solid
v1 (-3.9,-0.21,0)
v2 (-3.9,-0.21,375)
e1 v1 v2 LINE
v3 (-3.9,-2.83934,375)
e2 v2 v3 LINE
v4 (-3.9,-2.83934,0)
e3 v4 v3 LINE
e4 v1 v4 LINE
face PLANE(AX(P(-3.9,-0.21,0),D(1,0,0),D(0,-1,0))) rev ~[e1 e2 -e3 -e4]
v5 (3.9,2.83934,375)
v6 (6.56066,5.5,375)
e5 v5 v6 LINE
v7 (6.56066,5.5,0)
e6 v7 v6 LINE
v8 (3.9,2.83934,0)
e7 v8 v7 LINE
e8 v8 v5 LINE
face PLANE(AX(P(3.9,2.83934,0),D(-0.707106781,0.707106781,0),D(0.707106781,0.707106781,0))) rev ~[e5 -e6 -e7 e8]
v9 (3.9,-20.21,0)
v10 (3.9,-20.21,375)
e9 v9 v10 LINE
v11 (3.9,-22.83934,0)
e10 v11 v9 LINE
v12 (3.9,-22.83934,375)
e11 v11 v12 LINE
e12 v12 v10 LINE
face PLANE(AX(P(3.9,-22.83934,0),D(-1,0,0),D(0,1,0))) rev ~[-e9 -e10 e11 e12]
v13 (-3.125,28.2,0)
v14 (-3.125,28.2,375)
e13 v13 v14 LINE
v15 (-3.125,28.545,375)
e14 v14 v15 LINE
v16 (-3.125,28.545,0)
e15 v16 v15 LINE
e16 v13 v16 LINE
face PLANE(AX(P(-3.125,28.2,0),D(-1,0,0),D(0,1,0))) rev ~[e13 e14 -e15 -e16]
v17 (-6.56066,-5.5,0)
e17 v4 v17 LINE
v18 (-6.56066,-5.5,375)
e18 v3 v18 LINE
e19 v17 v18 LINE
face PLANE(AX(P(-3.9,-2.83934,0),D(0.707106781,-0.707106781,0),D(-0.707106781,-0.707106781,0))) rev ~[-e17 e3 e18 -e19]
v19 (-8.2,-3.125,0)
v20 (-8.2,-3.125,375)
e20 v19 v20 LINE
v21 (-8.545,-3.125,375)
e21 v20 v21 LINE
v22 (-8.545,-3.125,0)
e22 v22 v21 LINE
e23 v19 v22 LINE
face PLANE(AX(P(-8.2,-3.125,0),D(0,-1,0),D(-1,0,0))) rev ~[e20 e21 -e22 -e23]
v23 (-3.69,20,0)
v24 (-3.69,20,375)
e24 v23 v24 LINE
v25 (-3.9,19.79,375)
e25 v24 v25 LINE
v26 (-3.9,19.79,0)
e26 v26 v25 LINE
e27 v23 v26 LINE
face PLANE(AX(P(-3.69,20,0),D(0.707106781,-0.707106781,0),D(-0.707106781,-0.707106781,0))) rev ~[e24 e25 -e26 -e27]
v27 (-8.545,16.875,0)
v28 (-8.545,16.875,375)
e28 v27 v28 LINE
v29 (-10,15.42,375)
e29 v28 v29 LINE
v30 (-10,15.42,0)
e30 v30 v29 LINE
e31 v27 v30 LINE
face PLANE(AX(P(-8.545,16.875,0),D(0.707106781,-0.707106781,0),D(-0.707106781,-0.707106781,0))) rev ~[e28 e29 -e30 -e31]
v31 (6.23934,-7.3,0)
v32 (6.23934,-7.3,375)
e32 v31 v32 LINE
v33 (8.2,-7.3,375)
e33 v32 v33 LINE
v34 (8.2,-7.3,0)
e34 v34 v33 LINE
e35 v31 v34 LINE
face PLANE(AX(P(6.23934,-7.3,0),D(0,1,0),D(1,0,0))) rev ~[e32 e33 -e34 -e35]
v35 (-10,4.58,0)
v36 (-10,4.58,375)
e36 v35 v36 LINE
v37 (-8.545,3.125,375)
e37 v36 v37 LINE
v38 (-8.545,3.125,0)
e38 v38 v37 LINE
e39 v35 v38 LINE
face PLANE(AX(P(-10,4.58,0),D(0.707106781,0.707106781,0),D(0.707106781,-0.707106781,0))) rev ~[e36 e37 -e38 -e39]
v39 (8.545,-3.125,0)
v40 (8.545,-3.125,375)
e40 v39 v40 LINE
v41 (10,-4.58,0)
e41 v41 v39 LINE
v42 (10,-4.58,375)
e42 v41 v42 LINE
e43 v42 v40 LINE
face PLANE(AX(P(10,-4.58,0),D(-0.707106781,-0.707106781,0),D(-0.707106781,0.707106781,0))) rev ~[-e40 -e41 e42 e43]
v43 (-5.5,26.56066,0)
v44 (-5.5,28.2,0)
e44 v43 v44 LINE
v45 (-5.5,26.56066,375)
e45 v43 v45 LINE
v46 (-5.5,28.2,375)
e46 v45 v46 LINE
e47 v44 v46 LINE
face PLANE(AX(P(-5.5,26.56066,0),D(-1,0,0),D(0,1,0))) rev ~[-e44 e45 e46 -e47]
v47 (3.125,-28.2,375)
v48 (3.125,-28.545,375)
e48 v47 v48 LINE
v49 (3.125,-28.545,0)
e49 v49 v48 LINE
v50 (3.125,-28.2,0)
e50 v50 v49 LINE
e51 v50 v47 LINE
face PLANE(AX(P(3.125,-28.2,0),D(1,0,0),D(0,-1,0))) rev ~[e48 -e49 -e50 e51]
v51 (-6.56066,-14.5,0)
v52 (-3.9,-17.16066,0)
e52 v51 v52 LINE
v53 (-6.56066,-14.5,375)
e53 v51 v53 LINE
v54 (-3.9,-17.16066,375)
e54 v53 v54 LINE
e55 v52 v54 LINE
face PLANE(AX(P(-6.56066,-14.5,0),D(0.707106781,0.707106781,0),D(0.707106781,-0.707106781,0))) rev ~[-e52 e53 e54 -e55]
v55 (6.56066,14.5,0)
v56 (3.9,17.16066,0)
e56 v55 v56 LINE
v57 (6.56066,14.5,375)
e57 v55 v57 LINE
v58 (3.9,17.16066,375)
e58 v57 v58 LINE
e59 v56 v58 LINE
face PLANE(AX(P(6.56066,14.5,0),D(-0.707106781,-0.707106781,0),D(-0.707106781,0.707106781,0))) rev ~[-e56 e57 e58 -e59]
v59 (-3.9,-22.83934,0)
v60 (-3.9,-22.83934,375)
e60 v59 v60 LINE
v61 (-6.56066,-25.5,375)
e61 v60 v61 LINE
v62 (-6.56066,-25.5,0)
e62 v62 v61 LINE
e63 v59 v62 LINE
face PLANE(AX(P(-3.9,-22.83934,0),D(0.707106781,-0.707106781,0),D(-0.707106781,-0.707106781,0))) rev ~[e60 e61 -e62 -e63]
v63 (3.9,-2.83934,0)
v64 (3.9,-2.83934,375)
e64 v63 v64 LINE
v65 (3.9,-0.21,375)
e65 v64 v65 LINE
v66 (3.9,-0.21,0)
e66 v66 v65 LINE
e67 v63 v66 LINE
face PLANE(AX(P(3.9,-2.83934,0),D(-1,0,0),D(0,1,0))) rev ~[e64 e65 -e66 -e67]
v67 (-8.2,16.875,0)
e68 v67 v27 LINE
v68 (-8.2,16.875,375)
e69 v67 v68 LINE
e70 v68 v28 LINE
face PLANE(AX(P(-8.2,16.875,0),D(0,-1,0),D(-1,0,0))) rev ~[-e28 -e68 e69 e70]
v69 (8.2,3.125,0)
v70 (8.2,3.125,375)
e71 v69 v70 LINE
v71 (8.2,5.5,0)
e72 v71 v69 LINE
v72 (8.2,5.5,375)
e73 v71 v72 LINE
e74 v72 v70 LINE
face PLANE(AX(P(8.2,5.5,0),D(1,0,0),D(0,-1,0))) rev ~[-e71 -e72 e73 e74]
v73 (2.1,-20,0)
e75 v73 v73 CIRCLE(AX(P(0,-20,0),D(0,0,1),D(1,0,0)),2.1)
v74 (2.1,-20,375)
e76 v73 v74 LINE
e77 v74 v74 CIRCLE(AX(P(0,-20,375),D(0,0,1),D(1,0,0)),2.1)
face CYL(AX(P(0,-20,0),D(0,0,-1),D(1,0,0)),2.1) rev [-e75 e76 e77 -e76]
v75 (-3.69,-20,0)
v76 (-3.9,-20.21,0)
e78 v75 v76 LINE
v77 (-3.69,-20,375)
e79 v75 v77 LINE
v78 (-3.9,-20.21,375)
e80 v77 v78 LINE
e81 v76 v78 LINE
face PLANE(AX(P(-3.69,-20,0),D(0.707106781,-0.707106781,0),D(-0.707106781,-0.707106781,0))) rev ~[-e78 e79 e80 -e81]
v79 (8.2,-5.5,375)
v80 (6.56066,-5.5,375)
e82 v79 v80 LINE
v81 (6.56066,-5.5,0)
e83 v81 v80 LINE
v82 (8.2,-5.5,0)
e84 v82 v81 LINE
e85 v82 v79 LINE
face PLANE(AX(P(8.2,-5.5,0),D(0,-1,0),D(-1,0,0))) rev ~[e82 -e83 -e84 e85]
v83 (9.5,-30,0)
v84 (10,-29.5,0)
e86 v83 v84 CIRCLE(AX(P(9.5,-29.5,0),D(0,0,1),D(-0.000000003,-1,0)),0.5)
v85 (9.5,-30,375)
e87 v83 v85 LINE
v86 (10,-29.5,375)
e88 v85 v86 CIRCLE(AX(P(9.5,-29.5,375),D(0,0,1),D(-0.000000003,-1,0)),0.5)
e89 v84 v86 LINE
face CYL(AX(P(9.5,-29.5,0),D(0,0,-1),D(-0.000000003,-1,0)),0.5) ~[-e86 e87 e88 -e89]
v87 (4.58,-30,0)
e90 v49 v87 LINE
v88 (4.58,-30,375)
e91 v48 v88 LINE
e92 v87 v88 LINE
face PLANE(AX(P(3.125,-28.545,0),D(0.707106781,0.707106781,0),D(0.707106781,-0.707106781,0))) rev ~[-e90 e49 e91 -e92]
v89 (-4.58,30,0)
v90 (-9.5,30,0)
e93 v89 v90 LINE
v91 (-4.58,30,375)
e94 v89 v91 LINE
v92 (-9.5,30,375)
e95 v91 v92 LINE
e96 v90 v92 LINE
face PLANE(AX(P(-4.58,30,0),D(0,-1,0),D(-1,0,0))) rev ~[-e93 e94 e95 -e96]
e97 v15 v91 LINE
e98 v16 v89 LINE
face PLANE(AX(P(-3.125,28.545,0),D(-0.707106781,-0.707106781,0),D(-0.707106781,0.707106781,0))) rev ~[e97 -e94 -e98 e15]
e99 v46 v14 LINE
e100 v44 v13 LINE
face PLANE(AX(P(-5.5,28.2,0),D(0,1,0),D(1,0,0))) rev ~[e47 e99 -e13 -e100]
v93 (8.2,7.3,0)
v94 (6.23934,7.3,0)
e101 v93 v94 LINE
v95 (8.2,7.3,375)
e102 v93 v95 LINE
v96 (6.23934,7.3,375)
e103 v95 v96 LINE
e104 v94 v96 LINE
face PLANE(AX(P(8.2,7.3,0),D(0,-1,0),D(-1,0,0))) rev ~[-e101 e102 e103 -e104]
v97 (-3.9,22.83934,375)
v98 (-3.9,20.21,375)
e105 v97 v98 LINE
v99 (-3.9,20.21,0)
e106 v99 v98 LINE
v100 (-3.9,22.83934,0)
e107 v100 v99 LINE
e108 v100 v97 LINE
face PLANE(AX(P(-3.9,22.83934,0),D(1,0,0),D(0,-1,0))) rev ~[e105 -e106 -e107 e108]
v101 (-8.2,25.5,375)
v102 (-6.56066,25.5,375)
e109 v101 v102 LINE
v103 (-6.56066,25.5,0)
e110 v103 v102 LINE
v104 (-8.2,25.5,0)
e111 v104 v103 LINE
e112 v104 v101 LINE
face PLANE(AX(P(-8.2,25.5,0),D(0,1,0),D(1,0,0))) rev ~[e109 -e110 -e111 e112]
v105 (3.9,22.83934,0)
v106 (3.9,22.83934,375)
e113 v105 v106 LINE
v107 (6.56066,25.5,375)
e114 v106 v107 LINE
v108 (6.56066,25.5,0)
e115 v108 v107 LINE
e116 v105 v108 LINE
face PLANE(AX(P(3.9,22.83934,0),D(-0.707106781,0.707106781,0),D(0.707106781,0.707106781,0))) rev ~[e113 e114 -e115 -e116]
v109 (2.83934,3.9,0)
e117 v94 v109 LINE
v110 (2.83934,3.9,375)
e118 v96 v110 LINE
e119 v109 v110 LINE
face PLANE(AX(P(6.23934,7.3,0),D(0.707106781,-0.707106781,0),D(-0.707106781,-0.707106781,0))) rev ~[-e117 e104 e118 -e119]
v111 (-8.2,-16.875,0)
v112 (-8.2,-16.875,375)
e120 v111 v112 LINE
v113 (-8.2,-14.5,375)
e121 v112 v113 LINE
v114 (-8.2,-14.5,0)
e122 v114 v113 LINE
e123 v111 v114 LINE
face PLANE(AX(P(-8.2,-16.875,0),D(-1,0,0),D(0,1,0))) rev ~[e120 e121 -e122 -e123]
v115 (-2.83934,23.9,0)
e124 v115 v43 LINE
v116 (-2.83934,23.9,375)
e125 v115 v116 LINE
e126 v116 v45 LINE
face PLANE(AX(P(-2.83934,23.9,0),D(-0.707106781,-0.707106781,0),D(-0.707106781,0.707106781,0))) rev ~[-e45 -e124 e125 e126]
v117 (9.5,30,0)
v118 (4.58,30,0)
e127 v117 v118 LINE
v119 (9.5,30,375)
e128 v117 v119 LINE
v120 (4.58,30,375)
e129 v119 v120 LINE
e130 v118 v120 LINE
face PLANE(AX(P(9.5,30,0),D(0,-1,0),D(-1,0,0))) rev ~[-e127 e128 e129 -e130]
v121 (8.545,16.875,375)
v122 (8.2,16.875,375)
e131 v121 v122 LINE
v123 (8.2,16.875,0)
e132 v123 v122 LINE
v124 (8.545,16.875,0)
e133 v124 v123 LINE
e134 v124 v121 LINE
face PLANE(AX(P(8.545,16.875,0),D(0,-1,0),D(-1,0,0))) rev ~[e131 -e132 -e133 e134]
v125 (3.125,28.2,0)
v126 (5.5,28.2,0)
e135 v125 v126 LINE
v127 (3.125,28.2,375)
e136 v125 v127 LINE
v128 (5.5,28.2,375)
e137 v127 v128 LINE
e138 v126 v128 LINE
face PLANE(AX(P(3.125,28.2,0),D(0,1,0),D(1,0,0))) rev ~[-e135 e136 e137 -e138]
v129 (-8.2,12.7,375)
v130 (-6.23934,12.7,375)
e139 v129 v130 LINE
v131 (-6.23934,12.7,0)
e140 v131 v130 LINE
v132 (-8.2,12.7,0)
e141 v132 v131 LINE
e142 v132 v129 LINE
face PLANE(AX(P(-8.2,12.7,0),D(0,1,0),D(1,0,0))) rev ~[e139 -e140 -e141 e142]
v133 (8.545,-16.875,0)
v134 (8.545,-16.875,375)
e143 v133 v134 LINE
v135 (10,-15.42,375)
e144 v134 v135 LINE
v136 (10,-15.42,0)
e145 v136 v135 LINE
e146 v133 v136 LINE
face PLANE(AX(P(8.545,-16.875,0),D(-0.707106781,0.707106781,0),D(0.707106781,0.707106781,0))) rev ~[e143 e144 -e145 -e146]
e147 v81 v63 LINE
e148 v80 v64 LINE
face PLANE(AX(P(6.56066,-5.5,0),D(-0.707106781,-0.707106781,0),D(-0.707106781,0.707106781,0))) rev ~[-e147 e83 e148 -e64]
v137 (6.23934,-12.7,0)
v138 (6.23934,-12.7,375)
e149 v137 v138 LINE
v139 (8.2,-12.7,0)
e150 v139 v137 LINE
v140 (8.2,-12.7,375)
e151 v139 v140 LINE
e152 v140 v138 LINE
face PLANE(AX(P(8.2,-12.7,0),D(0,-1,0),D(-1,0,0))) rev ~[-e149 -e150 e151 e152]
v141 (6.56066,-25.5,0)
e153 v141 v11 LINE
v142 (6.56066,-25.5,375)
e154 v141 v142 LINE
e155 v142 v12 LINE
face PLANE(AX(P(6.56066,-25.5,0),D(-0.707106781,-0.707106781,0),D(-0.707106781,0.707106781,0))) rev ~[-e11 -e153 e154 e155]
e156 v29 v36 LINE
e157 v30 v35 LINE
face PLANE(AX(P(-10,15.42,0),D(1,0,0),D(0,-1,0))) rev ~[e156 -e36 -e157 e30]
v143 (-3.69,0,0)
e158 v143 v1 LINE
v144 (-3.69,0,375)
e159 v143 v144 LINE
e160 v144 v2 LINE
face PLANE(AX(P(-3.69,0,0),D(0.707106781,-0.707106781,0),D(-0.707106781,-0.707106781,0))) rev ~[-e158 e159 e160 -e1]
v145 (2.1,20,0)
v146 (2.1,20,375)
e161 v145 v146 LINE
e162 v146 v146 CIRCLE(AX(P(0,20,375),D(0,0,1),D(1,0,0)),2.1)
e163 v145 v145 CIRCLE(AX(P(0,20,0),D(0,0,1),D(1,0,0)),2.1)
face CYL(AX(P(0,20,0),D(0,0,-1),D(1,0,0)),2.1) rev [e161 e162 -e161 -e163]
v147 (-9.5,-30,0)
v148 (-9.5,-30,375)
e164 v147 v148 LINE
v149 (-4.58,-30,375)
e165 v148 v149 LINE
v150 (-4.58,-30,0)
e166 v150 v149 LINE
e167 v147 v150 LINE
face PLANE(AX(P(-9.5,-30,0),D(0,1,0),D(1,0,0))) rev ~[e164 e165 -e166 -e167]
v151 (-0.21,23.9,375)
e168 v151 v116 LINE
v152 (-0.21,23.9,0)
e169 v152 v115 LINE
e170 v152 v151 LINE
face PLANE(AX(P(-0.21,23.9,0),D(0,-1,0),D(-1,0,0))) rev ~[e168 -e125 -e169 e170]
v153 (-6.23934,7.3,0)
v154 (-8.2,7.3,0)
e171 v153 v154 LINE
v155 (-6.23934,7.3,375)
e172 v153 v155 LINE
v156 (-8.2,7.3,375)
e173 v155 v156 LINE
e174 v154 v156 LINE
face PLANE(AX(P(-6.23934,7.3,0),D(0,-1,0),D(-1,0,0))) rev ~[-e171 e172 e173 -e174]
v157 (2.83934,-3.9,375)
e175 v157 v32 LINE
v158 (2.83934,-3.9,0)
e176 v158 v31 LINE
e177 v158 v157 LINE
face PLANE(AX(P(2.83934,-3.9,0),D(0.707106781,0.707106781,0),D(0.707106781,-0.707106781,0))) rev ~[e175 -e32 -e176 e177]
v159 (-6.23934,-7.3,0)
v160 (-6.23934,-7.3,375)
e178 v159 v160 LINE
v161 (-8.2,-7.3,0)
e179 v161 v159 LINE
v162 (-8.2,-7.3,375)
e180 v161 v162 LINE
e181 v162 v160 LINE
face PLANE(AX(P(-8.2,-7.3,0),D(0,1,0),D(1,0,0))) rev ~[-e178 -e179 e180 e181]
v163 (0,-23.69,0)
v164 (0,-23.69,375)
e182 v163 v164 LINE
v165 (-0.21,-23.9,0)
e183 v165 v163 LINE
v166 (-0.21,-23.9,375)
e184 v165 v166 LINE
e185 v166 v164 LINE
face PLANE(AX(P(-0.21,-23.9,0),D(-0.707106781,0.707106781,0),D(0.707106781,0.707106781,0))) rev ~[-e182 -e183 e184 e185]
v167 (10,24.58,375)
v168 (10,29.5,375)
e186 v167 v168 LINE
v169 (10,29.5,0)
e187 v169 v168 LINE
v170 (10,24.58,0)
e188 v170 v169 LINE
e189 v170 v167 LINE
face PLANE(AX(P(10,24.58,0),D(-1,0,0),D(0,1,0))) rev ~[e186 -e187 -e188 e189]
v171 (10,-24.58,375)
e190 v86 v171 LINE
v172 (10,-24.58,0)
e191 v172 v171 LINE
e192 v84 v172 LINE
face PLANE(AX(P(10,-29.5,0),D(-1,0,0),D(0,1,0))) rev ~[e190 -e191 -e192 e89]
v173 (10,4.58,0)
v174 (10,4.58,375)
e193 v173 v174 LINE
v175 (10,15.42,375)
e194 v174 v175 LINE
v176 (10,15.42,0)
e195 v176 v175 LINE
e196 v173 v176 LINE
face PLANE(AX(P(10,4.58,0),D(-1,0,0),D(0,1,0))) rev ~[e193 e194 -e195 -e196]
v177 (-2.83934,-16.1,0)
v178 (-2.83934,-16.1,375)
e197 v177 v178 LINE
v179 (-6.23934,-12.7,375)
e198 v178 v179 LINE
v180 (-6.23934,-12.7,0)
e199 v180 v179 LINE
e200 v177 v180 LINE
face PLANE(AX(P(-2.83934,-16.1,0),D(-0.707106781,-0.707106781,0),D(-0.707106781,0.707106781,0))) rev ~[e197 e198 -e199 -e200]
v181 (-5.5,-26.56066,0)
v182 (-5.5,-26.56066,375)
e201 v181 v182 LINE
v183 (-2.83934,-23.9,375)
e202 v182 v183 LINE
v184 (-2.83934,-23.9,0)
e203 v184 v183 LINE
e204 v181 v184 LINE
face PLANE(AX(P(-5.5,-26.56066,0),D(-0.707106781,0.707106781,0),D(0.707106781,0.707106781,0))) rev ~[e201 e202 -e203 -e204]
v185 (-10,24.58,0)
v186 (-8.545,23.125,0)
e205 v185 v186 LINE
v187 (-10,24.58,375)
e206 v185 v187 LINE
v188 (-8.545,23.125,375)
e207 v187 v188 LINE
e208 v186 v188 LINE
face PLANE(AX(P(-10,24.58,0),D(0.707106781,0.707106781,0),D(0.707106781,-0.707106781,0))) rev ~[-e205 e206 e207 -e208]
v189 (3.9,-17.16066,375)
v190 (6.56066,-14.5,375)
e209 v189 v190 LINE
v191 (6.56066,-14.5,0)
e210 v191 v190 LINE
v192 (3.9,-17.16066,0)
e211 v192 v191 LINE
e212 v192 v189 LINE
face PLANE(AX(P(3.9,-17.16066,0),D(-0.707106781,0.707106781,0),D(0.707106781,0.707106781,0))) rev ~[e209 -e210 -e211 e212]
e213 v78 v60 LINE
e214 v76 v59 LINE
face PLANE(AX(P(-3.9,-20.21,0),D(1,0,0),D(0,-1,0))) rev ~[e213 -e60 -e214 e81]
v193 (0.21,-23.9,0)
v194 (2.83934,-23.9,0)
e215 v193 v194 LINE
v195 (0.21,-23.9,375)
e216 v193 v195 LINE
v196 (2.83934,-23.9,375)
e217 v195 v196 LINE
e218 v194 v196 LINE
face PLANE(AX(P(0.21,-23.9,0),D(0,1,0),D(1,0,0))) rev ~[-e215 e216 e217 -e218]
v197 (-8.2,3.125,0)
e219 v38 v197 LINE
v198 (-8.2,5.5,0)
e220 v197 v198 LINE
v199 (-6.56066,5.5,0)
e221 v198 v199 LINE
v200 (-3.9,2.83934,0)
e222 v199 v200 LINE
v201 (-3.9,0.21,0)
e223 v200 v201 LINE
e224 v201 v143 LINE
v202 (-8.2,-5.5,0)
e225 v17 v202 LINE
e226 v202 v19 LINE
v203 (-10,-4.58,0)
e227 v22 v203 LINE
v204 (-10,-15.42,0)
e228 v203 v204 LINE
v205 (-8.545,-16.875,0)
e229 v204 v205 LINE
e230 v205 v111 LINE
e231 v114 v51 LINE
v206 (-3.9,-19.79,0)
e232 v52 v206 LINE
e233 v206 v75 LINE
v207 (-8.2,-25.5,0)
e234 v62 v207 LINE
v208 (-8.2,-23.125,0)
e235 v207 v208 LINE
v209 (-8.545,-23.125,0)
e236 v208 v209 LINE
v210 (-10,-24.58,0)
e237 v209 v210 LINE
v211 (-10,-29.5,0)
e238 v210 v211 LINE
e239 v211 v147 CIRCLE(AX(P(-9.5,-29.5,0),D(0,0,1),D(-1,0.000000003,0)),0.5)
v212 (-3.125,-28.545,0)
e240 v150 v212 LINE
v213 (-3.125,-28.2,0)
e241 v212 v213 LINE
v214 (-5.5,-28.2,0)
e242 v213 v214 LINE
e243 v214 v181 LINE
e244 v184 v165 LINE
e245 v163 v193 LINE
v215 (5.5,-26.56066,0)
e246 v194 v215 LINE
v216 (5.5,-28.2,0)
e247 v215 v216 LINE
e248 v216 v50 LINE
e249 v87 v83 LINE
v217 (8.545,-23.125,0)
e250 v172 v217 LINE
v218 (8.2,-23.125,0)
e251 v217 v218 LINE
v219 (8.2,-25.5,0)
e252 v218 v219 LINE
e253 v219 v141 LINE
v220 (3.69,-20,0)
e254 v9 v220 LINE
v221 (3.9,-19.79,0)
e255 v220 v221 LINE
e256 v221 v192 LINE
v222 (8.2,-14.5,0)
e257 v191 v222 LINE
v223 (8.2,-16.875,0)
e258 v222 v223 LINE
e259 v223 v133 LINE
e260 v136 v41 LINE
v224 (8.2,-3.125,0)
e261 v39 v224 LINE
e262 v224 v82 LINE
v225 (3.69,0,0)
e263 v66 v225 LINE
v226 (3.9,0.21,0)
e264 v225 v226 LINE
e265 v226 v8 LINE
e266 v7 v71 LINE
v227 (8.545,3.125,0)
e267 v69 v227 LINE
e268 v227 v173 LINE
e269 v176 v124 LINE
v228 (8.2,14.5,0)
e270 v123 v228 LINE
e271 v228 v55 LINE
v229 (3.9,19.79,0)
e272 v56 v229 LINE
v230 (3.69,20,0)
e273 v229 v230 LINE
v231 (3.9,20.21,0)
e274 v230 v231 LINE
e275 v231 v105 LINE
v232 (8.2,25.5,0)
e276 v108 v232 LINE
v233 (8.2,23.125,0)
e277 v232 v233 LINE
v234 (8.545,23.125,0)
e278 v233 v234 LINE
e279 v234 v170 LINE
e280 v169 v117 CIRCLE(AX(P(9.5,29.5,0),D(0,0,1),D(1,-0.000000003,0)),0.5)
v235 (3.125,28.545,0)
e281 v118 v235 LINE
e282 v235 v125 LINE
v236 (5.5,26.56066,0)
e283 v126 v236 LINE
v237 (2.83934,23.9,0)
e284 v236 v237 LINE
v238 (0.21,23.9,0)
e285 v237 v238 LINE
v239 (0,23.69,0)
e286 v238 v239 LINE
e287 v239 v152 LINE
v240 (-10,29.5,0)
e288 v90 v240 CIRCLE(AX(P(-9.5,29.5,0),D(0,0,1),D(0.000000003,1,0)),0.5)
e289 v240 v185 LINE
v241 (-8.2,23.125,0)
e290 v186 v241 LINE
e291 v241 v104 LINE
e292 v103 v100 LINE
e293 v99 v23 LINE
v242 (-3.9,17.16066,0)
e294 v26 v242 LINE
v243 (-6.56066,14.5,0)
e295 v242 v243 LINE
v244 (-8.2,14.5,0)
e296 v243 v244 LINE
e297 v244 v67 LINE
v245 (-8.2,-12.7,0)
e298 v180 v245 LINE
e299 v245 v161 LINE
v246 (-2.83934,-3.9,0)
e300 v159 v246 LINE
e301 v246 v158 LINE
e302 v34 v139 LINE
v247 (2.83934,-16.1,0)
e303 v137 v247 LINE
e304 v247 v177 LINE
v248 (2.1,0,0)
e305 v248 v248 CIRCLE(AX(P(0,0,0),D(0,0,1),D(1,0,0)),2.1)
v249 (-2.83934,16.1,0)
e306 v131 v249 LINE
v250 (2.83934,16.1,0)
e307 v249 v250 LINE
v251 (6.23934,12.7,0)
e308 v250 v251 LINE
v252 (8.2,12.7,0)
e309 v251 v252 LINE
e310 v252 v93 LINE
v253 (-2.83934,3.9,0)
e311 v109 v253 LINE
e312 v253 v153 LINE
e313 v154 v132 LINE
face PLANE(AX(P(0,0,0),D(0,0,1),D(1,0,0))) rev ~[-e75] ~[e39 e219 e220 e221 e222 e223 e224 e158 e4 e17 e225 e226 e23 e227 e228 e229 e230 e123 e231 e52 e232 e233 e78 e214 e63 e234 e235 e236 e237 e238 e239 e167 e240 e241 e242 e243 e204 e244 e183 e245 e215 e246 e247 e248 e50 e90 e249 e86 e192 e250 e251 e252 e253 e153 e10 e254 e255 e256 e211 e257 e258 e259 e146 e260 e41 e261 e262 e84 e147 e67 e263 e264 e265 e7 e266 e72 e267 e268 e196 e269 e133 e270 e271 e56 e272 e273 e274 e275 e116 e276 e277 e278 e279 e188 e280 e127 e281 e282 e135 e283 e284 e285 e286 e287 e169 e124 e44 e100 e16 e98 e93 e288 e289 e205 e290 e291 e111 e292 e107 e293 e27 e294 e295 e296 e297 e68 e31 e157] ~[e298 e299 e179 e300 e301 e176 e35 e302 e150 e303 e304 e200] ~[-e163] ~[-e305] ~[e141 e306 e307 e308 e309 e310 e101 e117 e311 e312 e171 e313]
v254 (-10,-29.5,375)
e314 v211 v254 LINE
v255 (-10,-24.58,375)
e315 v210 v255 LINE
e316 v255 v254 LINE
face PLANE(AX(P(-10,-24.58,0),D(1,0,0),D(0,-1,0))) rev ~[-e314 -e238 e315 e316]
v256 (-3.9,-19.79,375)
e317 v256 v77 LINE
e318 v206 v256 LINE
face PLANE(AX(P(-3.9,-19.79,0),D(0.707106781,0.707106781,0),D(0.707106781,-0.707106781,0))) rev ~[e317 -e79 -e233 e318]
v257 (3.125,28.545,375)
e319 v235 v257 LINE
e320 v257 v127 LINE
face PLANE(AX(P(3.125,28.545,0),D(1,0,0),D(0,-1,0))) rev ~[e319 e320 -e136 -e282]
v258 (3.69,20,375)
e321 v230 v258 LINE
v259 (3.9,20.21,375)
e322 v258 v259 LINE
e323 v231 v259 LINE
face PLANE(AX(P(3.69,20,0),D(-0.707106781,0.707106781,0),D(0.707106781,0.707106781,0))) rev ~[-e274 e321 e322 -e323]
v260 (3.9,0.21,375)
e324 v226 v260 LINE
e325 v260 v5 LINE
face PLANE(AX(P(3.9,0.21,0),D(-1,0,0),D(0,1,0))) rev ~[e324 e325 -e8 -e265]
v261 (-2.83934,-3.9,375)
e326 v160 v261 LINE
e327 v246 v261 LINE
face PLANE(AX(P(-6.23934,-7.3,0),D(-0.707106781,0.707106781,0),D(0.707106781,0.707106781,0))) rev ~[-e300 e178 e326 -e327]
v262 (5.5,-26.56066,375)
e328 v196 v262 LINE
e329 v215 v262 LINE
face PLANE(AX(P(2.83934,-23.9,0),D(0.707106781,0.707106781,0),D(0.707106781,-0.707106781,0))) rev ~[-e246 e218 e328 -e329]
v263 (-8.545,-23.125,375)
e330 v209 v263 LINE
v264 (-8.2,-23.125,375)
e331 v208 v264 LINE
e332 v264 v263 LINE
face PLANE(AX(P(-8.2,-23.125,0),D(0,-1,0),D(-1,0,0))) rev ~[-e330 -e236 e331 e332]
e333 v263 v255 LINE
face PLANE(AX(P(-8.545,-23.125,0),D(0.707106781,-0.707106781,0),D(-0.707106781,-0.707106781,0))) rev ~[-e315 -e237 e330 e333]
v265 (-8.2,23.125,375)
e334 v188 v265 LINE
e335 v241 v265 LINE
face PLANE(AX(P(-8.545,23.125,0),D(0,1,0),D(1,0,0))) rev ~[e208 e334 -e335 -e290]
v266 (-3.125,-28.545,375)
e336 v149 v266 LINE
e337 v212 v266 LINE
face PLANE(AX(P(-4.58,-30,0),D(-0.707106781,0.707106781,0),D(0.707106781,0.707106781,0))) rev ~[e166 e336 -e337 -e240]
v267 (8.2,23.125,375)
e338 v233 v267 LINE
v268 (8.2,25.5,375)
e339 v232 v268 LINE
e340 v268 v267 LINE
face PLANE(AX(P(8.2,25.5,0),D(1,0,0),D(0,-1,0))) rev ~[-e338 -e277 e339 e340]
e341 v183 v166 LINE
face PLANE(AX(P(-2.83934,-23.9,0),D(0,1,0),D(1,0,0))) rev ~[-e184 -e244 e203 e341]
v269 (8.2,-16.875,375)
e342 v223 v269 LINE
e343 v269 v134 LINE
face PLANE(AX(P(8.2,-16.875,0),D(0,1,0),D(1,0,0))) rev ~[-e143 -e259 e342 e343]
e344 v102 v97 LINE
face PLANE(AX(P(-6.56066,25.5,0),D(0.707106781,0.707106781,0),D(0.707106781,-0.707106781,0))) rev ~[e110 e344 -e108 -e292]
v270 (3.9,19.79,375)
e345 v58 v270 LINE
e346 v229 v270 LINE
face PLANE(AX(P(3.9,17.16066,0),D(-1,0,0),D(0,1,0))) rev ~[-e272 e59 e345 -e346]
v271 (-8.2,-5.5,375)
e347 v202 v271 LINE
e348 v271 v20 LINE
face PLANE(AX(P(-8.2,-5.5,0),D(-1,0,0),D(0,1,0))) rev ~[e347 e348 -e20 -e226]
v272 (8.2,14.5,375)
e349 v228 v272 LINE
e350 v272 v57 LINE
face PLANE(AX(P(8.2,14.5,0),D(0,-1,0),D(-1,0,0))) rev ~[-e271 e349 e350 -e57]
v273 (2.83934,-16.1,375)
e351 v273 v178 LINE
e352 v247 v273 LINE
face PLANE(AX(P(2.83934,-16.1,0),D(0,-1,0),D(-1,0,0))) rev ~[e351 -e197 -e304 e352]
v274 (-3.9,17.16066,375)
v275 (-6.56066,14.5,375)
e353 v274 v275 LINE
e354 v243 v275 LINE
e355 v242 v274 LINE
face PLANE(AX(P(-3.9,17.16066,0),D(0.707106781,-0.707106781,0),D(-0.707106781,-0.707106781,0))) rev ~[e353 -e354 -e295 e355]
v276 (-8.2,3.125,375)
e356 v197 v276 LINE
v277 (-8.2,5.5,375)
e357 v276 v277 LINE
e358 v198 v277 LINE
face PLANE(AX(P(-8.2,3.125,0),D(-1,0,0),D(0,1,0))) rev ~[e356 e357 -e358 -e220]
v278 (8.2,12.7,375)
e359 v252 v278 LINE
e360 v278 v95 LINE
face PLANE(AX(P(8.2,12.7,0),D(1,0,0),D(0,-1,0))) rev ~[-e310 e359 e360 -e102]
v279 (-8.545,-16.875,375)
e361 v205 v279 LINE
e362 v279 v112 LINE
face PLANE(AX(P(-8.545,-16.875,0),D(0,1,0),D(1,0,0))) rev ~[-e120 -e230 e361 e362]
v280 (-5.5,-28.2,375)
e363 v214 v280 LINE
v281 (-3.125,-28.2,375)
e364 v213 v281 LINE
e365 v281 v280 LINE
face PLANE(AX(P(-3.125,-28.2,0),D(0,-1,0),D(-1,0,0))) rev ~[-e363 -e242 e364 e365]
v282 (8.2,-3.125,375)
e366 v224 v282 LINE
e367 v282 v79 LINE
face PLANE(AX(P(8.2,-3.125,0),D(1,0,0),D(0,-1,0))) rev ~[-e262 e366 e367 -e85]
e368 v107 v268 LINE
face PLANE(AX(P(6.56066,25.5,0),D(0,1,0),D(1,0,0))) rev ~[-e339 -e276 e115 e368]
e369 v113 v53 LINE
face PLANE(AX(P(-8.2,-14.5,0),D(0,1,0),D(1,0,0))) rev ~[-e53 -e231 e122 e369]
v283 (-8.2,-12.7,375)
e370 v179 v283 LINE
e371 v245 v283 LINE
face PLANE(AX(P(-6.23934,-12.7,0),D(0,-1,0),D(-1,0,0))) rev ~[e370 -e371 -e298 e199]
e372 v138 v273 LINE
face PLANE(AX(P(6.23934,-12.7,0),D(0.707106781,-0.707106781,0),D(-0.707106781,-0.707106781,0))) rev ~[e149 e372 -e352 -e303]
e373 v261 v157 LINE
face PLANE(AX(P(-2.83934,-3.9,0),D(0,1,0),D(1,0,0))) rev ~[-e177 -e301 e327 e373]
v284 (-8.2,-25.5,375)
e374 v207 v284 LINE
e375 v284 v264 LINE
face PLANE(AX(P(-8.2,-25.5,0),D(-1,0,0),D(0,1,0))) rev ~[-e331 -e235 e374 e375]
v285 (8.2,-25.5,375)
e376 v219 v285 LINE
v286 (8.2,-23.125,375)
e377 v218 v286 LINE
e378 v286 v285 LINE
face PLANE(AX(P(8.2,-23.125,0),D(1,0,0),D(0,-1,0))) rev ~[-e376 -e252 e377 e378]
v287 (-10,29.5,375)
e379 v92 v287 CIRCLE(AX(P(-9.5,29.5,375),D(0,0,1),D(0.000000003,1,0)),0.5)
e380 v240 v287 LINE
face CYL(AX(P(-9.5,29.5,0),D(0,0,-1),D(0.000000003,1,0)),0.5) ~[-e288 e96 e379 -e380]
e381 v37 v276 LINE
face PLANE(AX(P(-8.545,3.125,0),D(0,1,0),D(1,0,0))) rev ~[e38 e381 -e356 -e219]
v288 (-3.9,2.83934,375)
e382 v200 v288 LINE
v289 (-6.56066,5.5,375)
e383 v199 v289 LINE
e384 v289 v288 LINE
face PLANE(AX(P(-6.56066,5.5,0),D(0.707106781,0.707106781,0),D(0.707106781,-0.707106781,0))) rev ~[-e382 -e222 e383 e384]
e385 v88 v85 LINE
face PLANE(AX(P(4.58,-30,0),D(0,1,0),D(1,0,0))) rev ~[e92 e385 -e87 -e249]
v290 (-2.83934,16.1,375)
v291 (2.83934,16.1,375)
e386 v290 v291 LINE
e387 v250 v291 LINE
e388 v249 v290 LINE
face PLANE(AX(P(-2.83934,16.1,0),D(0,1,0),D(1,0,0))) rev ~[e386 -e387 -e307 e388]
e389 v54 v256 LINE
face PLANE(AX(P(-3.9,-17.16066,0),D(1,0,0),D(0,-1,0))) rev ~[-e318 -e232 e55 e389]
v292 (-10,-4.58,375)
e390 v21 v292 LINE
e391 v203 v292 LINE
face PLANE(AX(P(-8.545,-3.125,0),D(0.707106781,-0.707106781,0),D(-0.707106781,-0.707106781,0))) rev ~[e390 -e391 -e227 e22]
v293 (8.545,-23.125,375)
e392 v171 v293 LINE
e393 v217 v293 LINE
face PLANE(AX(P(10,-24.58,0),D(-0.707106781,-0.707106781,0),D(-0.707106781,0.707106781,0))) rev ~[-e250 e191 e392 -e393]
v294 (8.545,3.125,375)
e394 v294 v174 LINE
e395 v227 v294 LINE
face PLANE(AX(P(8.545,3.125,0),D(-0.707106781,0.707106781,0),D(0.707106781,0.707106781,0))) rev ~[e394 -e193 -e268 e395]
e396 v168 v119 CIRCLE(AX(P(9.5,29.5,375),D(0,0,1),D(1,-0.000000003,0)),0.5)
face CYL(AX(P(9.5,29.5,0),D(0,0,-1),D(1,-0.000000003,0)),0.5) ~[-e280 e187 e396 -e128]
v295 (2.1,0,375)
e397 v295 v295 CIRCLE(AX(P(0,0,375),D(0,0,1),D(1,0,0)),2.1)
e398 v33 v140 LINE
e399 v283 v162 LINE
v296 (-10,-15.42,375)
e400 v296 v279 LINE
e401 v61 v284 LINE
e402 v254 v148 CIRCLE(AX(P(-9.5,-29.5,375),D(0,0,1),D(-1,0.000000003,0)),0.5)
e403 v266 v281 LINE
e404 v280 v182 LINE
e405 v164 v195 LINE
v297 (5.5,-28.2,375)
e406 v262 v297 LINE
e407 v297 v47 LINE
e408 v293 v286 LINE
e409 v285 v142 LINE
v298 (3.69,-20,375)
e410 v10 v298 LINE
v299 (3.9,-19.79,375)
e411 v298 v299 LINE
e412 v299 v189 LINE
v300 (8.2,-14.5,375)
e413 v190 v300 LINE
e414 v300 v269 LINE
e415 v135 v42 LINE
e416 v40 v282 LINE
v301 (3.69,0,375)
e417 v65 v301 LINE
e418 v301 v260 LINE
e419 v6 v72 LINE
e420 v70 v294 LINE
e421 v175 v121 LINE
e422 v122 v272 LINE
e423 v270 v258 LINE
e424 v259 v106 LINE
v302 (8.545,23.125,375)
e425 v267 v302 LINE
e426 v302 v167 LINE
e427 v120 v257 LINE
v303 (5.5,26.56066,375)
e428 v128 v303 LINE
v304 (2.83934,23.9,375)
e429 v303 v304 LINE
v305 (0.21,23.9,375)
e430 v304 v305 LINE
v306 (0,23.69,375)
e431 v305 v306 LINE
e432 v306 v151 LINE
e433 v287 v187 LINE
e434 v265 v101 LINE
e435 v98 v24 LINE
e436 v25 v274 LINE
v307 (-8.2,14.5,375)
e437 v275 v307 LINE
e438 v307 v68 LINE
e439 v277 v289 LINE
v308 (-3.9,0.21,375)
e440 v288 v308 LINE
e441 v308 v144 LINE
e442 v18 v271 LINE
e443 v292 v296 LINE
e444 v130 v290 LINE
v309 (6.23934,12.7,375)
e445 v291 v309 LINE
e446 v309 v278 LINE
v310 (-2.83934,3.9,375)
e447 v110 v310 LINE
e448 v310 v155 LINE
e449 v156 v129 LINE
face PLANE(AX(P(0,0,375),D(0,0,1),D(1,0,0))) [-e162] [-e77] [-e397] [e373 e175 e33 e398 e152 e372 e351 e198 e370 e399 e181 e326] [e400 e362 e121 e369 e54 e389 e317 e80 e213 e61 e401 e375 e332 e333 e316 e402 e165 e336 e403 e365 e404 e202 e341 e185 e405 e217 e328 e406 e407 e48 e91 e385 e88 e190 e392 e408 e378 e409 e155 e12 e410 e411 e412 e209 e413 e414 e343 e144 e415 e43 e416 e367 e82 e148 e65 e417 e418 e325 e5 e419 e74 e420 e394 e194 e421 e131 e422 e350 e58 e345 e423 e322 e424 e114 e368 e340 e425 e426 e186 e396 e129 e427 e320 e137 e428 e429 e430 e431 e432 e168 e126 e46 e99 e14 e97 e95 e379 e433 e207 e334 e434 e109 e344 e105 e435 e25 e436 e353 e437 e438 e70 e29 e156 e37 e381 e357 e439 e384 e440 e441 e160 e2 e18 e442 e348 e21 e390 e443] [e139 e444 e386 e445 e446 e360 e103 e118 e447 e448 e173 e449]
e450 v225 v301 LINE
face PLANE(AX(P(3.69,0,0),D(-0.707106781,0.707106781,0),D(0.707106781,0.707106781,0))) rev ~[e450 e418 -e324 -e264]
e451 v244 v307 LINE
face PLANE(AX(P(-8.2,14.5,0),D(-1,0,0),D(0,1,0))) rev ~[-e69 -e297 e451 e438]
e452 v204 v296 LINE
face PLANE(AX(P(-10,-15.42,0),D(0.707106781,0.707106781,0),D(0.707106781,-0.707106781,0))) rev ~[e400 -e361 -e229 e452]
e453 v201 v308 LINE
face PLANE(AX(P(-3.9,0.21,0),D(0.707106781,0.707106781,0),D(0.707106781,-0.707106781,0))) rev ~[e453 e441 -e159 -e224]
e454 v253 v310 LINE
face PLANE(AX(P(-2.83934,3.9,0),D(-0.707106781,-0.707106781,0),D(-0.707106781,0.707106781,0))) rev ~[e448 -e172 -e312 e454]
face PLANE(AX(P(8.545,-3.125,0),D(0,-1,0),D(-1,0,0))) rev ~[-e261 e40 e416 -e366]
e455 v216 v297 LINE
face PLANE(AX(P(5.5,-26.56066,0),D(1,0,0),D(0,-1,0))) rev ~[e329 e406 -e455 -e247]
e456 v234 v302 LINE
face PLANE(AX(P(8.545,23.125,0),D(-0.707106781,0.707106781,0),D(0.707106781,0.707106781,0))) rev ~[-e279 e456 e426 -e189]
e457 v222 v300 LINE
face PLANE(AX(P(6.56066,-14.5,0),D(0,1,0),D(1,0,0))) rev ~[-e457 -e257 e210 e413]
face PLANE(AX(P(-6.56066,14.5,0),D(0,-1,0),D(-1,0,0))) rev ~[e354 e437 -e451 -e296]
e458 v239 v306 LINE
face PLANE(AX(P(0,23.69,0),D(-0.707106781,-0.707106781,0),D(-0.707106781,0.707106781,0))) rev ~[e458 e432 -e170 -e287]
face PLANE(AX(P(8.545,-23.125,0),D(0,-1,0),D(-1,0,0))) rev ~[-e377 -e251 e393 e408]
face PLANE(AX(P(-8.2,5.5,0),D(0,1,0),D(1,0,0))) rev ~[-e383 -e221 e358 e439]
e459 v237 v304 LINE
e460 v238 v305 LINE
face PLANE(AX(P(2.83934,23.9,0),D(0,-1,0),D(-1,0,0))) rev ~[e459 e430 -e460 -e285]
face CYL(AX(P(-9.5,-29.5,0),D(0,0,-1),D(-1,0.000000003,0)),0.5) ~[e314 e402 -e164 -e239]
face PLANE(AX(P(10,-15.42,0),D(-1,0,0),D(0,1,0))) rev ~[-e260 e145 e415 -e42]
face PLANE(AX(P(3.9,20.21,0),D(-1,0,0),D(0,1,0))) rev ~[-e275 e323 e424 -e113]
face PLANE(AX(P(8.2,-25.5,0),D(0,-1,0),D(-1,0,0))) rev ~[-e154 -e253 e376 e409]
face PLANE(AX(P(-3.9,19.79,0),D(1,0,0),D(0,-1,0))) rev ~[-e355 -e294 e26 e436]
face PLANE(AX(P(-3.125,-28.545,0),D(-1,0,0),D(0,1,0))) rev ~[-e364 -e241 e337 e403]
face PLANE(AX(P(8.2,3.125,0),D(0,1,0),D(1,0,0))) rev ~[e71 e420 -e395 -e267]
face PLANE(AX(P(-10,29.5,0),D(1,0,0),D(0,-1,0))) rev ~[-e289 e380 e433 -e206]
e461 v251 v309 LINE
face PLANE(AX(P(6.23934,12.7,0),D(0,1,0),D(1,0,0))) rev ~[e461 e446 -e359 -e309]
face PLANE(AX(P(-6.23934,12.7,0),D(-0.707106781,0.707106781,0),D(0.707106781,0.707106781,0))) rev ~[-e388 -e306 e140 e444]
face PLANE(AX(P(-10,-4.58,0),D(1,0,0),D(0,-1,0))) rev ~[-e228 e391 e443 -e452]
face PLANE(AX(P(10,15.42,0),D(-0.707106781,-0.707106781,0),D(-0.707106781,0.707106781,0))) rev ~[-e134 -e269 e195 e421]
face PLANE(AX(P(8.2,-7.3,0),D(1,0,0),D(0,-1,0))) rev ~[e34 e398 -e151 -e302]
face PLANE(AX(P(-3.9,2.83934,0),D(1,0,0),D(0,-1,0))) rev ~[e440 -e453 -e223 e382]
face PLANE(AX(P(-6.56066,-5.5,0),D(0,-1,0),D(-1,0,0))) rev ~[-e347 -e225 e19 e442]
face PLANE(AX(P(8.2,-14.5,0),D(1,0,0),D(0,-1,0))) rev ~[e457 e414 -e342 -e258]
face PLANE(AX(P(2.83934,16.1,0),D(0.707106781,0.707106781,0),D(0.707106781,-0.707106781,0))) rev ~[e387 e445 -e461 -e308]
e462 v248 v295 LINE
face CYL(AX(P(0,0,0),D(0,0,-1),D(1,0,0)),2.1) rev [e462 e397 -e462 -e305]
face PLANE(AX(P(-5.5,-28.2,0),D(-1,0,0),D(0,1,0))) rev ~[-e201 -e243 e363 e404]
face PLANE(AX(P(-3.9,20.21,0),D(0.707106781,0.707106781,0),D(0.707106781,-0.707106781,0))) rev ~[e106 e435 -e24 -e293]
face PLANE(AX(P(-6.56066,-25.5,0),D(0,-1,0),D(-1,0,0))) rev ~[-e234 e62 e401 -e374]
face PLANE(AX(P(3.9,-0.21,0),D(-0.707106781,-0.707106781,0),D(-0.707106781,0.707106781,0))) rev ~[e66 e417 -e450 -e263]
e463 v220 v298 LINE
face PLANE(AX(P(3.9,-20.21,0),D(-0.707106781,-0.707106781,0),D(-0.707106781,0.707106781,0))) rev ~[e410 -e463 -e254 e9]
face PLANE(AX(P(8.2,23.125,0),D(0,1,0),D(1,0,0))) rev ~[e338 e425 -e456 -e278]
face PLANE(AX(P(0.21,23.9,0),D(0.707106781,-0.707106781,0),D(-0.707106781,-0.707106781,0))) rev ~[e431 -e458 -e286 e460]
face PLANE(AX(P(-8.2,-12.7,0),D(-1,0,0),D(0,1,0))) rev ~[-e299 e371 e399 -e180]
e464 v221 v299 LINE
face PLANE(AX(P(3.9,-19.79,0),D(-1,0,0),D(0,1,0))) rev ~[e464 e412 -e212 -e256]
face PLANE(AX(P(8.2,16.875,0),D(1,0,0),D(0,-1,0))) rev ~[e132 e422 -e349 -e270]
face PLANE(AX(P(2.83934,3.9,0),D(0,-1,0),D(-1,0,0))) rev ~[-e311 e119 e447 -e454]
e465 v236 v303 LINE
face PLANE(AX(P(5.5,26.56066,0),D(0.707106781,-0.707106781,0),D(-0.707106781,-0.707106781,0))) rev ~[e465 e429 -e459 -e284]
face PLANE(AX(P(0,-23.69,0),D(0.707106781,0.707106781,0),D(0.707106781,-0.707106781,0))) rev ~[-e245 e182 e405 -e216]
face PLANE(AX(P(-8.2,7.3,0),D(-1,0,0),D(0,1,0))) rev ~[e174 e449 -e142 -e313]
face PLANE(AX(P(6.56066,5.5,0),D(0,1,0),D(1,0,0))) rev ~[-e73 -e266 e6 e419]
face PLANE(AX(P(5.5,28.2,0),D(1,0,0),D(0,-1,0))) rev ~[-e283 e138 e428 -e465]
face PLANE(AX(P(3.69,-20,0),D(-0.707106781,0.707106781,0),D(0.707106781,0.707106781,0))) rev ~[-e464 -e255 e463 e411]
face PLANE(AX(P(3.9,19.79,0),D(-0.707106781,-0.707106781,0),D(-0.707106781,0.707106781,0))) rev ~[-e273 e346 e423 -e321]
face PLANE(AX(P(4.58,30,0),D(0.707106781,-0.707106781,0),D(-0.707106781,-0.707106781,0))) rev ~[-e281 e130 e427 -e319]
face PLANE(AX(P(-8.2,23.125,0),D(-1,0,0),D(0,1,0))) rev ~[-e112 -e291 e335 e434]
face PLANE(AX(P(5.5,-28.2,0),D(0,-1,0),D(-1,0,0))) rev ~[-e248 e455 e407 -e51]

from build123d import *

# Parameters (mm, degrees)
SKETCH1_R           = 2.1
BOSS_EXTRUDE1_DEPTH = 375


with BuildPart() as part:
    # Sketch1 → Boss-Extrude1 (new body)
    with BuildSketch(Plane.XY):
        with BuildLine():
            Line((4.58, -30), (9.5, -30))
            ThreePointArc((9.5, -30), (9.853553391, -29.853553391), (10, -29.5))
            Line((10, -29.5), (10, -24.58))
            Line((10, -24.58), (8.545, -23.125))
            Line((8.545, -23.125), (8.2, -23.125))
            Line((8.2, -23.125), (8.2, -25.5))
            Line((8.2, -25.5), (6.560660172, -25.5))
            Line((6.560660172, -25.5), (3.9, -22.839339828))
            Line((3.9, -22.839339828), (3.9, -20.21))
            Line((3.9, -20.21), (3.69, -20))
            Line((3.69, -20), (3.9, -19.79))
            Line((3.9, -19.79), (3.9, -17.160660172))
            Line((3.9, -17.160660172), (6.560660172, -14.5))
            Line((6.560660172, -14.5), (8.2, -14.5))
            Line((8.2, -14.5), (8.2, -16.875))
            Line((8.2, -16.875), (8.545, -16.875))
            Line((8.545, -16.875), (10, -15.42))
            Line((10, -15.42), (10, -4.58))
            Line((10, -4.58), (8.545, -3.125))
            Line((8.545, -3.125), (8.2, -3.125))
            Line((8.2, -3.125), (8.2, -5.5))
            Line((8.2, -5.5), (6.560660172, -5.5))
            Line((6.560660172, -5.5), (3.9, -2.839339828))
            Line((3.9, -2.839339828), (3.9, -0.21))
            Line((3.9, -0.21), (3.69, 0))
            Line((3.69, 0), (3.9, 0.21))
            Line((3.9, 0.21), (3.9, 2.839339828))
            Line((3.9, 2.839339828), (6.560660172, 5.5))
            Line((6.560660172, 5.5), (8.2, 5.5))
            Line((8.2, 5.5), (8.2, 3.125))
            Line((8.2, 3.125), (8.545, 3.125))
            Line((8.545, 3.125), (10, 4.58))
            Line((10, 4.58), (10, 15.42))
            Line((10, 15.42), (8.545, 16.875))
            Line((8.545, 16.875), (8.2, 16.875))
            Line((8.2, 16.875), (8.2, 14.5))
            Line((8.2, 14.5), (6.560660172, 14.5))
            Line((6.560660172, 14.5), (3.9, 17.160660172))
            Line((3.9, 17.160660172), (3.9, 19.79))
            Line((3.9, 19.79), (3.69, 20))
            Line((3.69, 20), (3.9, 20.21))
            Line((3.9, 20.21), (3.9, 22.839339828))
            Line((3.9, 22.839339828), (6.560660172, 25.5))
            Line((6.560660172, 25.5), (8.2, 25.5))
            Line((8.2, 25.5), (8.2, 23.125))
            Line((8.2, 23.125), (8.545, 23.125))
            Line((8.545, 23.125), (10, 24.58))
            Line((10, 24.58), (10, 29.5))
            ThreePointArc((10, 29.5), (9.853553391, 29.853553391), (9.5, 30))
            Line((9.5, 30), (4.58, 30))
            Line((4.58, 30), (3.125, 28.545))
            Line((3.125, 28.545), (3.125, 28.2))
            Line((3.125, 28.2), (5.5, 28.2))
            Line((5.5, 28.2), (5.5, 26.560660172))
            Line((5.5, 26.560660172), (2.839339828, 23.9))
            Line((2.839339828, 23.9), (0.21, 23.9))
            Line((0.21, 23.9), (0, 23.69))
            Line((0, 23.69), (-0.21, 23.9))
            Line((-0.21, 23.9), (-2.839339828, 23.9))
            Line((-2.839339828, 23.9), (-5.5, 26.560660172))
            Line((-5.5, 26.560660172), (-5.5, 28.2))
            Line((-5.5, 28.2), (-3.125, 28.2))
            Line((-3.125, 28.2), (-3.125, 28.545))
            Line((-3.125, 28.545), (-4.58, 30))
            Line((-4.58, 30), (-9.5, 30))
            ThreePointArc((-9.5, 30), (-9.853553391, 29.853553391), (-10, 29.5))
            Line((-10, 29.5), (-10, 24.58))
            Line((-10, 24.58), (-8.545, 23.125))
            Line((-8.545, 23.125), (-8.2, 23.125))
            Line((-8.2, 23.125), (-8.2, 25.5))
            Line((-8.2, 25.5), (-6.560660172, 25.5))
            Line((-6.560660172, 25.5), (-3.9, 22.839339828))
            Line((-3.9, 22.839339828), (-3.9, 20.21))
            Line((-3.9, 20.21), (-3.69, 20))
            Line((-3.69, 20), (-3.9, 19.79))
            Line((-3.9, 19.79), (-3.9, 17.160660172))
            Line((-3.9, 17.160660172), (-6.560660172, 14.5))
            Line((-6.560660172, 14.5), (-8.2, 14.5))
            Line((-8.2, 14.5), (-8.2, 16.875))
            Line((-8.2, 16.875), (-8.545, 16.875))
            Line((-8.545, 16.875), (-10, 15.42))
            Line((-10, 15.42), (-10, 4.58))
            Line((-10, 4.58), (-8.545, 3.125))
            Line((-8.545, 3.125), (-8.2, 3.125))
            Line((-8.2, 3.125), (-8.2, 5.5))
            Line((-8.2, 5.5), (-6.560660172, 5.5))
            Line((-6.560660172, 5.5), (-3.9, 2.839339828))
            Line((-3.9, 2.839339828), (-3.9, 0.21))
            Line((-3.9, 0.21), (-3.69, 0))
            Line((-3.69, 0), (-3.9, -0.21))
            Line((-3.9, -0.21), (-3.9, -2.839339828))
            Line((-3.9, -2.839339828), (-6.560660172, -5.5))
            Line((-6.560660172, -5.5), (-8.2, -5.5))
            Line((-8.2, -5.5), (-8.2, -3.125))
            Line((-8.2, -3.125), (-8.545, -3.125))
            Line((-8.545, -3.125), (-10, -4.58))
            Line((-10, -4.58), (-10, -15.42))
            Line((-10, -15.42), (-8.545, -16.875))
            Line((-8.545, -16.875), (-8.2, -16.875))
            Line((-8.2, -16.875), (-8.2, -14.5))
            Line((-8.2, -14.5), (-6.560660172, -14.5))
            Line((-6.560660172, -14.5), (-3.9, -17.160660172))
            Line((-3.9, -17.160660172), (-3.9, -19.79))
            Line((-3.9, -19.79), (-3.69, -20))
            Line((-3.69, -20), (-3.9, -20.21))
            Line((-3.9, -20.21), (-3.9, -22.839339828))
            Line((-3.9, -22.839339828), (-6.560660172, -25.5))
            Line((-6.560660172, -25.5), (-8.2, -25.5))
            Line((-8.2, -25.5), (-8.2, -23.125))
            Line((-8.2, -23.125), (-8.545, -23.125))
            Line((-8.545, -23.125), (-10, -24.58))
            Line((-10, -24.58), (-10, -29.5))
            ThreePointArc((-10, -29.5), (-9.853553391, -29.853553391), (-9.5, -30))
            Line((-9.5, -30), (-4.58, -30))
            Line((-4.58, -30), (-3.125, -28.545))
            Line((-3.125, -28.545), (-3.125, -28.2))
            Line((-3.125, -28.2), (-5.5, -28.2))
            Line((-5.5, -28.2), (-5.5, -26.560660172))
            Line((-5.5, -26.560660172), (-2.839339828, -23.9))
            Line((-2.839339828, -23.9), (-0.21, -23.9))
            Line((-0.21, -23.9), (0, -23.69))
            Line((0, -23.69), (0.21, -23.9))
            Line((0.21, -23.9), (2.839339828, -23.9))
            Line((2.839339828, -23.9), (5.5, -26.560660172))
            Line((5.5, -26.560660172), (5.5, -28.2))
            Line((5.5, -28.2), (3.125, -28.2))
            Line((3.125, -28.2), (3.125, -28.545))
            Line((3.125, -28.545), (4.58, -30))
        make_face()
        with Locations((0, -20)):
            Circle(SKETCH1_R, mode=Mode.SUBTRACT)
        Polygon((-6.239339828, -12.7), (-8.2, -12.7), (-8.2, -7.3), (-6.239339828, -7.3), (-2.839339828, -3.9), (2.839339828, -3.9), (6.239339828, -7.3), (8.2, -7.3), (8.2, -12.7), (6.239339828, -12.7), (2.839339828, -16.1), (-2.839339828, -16.1), align=None, mode=Mode.SUBTRACT)
        Polygon((-6.239339828, 7.3), (-8.2, 7.3), (-8.2, 12.7), (-6.239339828, 12.7), (-2.839339828, 16.1), (2.839339828, 16.1), (6.239339828, 12.7), (8.2, 12.7), (8.2, 7.3), (6.239339828, 7.3), (2.839339828, 3.9), (-2.839339828, 3.9), align=None, mode=Mode.SUBTRACT)
        with Locations((0, 20)):
            Circle(SKETCH1_R, mode=Mode.SUBTRACT)
        Circle(SKETCH1_R, mode=Mode.SUBTRACT)
    extrude(amount=BOSS_EXTRUDE1_DEPTH)


solid = part.part
